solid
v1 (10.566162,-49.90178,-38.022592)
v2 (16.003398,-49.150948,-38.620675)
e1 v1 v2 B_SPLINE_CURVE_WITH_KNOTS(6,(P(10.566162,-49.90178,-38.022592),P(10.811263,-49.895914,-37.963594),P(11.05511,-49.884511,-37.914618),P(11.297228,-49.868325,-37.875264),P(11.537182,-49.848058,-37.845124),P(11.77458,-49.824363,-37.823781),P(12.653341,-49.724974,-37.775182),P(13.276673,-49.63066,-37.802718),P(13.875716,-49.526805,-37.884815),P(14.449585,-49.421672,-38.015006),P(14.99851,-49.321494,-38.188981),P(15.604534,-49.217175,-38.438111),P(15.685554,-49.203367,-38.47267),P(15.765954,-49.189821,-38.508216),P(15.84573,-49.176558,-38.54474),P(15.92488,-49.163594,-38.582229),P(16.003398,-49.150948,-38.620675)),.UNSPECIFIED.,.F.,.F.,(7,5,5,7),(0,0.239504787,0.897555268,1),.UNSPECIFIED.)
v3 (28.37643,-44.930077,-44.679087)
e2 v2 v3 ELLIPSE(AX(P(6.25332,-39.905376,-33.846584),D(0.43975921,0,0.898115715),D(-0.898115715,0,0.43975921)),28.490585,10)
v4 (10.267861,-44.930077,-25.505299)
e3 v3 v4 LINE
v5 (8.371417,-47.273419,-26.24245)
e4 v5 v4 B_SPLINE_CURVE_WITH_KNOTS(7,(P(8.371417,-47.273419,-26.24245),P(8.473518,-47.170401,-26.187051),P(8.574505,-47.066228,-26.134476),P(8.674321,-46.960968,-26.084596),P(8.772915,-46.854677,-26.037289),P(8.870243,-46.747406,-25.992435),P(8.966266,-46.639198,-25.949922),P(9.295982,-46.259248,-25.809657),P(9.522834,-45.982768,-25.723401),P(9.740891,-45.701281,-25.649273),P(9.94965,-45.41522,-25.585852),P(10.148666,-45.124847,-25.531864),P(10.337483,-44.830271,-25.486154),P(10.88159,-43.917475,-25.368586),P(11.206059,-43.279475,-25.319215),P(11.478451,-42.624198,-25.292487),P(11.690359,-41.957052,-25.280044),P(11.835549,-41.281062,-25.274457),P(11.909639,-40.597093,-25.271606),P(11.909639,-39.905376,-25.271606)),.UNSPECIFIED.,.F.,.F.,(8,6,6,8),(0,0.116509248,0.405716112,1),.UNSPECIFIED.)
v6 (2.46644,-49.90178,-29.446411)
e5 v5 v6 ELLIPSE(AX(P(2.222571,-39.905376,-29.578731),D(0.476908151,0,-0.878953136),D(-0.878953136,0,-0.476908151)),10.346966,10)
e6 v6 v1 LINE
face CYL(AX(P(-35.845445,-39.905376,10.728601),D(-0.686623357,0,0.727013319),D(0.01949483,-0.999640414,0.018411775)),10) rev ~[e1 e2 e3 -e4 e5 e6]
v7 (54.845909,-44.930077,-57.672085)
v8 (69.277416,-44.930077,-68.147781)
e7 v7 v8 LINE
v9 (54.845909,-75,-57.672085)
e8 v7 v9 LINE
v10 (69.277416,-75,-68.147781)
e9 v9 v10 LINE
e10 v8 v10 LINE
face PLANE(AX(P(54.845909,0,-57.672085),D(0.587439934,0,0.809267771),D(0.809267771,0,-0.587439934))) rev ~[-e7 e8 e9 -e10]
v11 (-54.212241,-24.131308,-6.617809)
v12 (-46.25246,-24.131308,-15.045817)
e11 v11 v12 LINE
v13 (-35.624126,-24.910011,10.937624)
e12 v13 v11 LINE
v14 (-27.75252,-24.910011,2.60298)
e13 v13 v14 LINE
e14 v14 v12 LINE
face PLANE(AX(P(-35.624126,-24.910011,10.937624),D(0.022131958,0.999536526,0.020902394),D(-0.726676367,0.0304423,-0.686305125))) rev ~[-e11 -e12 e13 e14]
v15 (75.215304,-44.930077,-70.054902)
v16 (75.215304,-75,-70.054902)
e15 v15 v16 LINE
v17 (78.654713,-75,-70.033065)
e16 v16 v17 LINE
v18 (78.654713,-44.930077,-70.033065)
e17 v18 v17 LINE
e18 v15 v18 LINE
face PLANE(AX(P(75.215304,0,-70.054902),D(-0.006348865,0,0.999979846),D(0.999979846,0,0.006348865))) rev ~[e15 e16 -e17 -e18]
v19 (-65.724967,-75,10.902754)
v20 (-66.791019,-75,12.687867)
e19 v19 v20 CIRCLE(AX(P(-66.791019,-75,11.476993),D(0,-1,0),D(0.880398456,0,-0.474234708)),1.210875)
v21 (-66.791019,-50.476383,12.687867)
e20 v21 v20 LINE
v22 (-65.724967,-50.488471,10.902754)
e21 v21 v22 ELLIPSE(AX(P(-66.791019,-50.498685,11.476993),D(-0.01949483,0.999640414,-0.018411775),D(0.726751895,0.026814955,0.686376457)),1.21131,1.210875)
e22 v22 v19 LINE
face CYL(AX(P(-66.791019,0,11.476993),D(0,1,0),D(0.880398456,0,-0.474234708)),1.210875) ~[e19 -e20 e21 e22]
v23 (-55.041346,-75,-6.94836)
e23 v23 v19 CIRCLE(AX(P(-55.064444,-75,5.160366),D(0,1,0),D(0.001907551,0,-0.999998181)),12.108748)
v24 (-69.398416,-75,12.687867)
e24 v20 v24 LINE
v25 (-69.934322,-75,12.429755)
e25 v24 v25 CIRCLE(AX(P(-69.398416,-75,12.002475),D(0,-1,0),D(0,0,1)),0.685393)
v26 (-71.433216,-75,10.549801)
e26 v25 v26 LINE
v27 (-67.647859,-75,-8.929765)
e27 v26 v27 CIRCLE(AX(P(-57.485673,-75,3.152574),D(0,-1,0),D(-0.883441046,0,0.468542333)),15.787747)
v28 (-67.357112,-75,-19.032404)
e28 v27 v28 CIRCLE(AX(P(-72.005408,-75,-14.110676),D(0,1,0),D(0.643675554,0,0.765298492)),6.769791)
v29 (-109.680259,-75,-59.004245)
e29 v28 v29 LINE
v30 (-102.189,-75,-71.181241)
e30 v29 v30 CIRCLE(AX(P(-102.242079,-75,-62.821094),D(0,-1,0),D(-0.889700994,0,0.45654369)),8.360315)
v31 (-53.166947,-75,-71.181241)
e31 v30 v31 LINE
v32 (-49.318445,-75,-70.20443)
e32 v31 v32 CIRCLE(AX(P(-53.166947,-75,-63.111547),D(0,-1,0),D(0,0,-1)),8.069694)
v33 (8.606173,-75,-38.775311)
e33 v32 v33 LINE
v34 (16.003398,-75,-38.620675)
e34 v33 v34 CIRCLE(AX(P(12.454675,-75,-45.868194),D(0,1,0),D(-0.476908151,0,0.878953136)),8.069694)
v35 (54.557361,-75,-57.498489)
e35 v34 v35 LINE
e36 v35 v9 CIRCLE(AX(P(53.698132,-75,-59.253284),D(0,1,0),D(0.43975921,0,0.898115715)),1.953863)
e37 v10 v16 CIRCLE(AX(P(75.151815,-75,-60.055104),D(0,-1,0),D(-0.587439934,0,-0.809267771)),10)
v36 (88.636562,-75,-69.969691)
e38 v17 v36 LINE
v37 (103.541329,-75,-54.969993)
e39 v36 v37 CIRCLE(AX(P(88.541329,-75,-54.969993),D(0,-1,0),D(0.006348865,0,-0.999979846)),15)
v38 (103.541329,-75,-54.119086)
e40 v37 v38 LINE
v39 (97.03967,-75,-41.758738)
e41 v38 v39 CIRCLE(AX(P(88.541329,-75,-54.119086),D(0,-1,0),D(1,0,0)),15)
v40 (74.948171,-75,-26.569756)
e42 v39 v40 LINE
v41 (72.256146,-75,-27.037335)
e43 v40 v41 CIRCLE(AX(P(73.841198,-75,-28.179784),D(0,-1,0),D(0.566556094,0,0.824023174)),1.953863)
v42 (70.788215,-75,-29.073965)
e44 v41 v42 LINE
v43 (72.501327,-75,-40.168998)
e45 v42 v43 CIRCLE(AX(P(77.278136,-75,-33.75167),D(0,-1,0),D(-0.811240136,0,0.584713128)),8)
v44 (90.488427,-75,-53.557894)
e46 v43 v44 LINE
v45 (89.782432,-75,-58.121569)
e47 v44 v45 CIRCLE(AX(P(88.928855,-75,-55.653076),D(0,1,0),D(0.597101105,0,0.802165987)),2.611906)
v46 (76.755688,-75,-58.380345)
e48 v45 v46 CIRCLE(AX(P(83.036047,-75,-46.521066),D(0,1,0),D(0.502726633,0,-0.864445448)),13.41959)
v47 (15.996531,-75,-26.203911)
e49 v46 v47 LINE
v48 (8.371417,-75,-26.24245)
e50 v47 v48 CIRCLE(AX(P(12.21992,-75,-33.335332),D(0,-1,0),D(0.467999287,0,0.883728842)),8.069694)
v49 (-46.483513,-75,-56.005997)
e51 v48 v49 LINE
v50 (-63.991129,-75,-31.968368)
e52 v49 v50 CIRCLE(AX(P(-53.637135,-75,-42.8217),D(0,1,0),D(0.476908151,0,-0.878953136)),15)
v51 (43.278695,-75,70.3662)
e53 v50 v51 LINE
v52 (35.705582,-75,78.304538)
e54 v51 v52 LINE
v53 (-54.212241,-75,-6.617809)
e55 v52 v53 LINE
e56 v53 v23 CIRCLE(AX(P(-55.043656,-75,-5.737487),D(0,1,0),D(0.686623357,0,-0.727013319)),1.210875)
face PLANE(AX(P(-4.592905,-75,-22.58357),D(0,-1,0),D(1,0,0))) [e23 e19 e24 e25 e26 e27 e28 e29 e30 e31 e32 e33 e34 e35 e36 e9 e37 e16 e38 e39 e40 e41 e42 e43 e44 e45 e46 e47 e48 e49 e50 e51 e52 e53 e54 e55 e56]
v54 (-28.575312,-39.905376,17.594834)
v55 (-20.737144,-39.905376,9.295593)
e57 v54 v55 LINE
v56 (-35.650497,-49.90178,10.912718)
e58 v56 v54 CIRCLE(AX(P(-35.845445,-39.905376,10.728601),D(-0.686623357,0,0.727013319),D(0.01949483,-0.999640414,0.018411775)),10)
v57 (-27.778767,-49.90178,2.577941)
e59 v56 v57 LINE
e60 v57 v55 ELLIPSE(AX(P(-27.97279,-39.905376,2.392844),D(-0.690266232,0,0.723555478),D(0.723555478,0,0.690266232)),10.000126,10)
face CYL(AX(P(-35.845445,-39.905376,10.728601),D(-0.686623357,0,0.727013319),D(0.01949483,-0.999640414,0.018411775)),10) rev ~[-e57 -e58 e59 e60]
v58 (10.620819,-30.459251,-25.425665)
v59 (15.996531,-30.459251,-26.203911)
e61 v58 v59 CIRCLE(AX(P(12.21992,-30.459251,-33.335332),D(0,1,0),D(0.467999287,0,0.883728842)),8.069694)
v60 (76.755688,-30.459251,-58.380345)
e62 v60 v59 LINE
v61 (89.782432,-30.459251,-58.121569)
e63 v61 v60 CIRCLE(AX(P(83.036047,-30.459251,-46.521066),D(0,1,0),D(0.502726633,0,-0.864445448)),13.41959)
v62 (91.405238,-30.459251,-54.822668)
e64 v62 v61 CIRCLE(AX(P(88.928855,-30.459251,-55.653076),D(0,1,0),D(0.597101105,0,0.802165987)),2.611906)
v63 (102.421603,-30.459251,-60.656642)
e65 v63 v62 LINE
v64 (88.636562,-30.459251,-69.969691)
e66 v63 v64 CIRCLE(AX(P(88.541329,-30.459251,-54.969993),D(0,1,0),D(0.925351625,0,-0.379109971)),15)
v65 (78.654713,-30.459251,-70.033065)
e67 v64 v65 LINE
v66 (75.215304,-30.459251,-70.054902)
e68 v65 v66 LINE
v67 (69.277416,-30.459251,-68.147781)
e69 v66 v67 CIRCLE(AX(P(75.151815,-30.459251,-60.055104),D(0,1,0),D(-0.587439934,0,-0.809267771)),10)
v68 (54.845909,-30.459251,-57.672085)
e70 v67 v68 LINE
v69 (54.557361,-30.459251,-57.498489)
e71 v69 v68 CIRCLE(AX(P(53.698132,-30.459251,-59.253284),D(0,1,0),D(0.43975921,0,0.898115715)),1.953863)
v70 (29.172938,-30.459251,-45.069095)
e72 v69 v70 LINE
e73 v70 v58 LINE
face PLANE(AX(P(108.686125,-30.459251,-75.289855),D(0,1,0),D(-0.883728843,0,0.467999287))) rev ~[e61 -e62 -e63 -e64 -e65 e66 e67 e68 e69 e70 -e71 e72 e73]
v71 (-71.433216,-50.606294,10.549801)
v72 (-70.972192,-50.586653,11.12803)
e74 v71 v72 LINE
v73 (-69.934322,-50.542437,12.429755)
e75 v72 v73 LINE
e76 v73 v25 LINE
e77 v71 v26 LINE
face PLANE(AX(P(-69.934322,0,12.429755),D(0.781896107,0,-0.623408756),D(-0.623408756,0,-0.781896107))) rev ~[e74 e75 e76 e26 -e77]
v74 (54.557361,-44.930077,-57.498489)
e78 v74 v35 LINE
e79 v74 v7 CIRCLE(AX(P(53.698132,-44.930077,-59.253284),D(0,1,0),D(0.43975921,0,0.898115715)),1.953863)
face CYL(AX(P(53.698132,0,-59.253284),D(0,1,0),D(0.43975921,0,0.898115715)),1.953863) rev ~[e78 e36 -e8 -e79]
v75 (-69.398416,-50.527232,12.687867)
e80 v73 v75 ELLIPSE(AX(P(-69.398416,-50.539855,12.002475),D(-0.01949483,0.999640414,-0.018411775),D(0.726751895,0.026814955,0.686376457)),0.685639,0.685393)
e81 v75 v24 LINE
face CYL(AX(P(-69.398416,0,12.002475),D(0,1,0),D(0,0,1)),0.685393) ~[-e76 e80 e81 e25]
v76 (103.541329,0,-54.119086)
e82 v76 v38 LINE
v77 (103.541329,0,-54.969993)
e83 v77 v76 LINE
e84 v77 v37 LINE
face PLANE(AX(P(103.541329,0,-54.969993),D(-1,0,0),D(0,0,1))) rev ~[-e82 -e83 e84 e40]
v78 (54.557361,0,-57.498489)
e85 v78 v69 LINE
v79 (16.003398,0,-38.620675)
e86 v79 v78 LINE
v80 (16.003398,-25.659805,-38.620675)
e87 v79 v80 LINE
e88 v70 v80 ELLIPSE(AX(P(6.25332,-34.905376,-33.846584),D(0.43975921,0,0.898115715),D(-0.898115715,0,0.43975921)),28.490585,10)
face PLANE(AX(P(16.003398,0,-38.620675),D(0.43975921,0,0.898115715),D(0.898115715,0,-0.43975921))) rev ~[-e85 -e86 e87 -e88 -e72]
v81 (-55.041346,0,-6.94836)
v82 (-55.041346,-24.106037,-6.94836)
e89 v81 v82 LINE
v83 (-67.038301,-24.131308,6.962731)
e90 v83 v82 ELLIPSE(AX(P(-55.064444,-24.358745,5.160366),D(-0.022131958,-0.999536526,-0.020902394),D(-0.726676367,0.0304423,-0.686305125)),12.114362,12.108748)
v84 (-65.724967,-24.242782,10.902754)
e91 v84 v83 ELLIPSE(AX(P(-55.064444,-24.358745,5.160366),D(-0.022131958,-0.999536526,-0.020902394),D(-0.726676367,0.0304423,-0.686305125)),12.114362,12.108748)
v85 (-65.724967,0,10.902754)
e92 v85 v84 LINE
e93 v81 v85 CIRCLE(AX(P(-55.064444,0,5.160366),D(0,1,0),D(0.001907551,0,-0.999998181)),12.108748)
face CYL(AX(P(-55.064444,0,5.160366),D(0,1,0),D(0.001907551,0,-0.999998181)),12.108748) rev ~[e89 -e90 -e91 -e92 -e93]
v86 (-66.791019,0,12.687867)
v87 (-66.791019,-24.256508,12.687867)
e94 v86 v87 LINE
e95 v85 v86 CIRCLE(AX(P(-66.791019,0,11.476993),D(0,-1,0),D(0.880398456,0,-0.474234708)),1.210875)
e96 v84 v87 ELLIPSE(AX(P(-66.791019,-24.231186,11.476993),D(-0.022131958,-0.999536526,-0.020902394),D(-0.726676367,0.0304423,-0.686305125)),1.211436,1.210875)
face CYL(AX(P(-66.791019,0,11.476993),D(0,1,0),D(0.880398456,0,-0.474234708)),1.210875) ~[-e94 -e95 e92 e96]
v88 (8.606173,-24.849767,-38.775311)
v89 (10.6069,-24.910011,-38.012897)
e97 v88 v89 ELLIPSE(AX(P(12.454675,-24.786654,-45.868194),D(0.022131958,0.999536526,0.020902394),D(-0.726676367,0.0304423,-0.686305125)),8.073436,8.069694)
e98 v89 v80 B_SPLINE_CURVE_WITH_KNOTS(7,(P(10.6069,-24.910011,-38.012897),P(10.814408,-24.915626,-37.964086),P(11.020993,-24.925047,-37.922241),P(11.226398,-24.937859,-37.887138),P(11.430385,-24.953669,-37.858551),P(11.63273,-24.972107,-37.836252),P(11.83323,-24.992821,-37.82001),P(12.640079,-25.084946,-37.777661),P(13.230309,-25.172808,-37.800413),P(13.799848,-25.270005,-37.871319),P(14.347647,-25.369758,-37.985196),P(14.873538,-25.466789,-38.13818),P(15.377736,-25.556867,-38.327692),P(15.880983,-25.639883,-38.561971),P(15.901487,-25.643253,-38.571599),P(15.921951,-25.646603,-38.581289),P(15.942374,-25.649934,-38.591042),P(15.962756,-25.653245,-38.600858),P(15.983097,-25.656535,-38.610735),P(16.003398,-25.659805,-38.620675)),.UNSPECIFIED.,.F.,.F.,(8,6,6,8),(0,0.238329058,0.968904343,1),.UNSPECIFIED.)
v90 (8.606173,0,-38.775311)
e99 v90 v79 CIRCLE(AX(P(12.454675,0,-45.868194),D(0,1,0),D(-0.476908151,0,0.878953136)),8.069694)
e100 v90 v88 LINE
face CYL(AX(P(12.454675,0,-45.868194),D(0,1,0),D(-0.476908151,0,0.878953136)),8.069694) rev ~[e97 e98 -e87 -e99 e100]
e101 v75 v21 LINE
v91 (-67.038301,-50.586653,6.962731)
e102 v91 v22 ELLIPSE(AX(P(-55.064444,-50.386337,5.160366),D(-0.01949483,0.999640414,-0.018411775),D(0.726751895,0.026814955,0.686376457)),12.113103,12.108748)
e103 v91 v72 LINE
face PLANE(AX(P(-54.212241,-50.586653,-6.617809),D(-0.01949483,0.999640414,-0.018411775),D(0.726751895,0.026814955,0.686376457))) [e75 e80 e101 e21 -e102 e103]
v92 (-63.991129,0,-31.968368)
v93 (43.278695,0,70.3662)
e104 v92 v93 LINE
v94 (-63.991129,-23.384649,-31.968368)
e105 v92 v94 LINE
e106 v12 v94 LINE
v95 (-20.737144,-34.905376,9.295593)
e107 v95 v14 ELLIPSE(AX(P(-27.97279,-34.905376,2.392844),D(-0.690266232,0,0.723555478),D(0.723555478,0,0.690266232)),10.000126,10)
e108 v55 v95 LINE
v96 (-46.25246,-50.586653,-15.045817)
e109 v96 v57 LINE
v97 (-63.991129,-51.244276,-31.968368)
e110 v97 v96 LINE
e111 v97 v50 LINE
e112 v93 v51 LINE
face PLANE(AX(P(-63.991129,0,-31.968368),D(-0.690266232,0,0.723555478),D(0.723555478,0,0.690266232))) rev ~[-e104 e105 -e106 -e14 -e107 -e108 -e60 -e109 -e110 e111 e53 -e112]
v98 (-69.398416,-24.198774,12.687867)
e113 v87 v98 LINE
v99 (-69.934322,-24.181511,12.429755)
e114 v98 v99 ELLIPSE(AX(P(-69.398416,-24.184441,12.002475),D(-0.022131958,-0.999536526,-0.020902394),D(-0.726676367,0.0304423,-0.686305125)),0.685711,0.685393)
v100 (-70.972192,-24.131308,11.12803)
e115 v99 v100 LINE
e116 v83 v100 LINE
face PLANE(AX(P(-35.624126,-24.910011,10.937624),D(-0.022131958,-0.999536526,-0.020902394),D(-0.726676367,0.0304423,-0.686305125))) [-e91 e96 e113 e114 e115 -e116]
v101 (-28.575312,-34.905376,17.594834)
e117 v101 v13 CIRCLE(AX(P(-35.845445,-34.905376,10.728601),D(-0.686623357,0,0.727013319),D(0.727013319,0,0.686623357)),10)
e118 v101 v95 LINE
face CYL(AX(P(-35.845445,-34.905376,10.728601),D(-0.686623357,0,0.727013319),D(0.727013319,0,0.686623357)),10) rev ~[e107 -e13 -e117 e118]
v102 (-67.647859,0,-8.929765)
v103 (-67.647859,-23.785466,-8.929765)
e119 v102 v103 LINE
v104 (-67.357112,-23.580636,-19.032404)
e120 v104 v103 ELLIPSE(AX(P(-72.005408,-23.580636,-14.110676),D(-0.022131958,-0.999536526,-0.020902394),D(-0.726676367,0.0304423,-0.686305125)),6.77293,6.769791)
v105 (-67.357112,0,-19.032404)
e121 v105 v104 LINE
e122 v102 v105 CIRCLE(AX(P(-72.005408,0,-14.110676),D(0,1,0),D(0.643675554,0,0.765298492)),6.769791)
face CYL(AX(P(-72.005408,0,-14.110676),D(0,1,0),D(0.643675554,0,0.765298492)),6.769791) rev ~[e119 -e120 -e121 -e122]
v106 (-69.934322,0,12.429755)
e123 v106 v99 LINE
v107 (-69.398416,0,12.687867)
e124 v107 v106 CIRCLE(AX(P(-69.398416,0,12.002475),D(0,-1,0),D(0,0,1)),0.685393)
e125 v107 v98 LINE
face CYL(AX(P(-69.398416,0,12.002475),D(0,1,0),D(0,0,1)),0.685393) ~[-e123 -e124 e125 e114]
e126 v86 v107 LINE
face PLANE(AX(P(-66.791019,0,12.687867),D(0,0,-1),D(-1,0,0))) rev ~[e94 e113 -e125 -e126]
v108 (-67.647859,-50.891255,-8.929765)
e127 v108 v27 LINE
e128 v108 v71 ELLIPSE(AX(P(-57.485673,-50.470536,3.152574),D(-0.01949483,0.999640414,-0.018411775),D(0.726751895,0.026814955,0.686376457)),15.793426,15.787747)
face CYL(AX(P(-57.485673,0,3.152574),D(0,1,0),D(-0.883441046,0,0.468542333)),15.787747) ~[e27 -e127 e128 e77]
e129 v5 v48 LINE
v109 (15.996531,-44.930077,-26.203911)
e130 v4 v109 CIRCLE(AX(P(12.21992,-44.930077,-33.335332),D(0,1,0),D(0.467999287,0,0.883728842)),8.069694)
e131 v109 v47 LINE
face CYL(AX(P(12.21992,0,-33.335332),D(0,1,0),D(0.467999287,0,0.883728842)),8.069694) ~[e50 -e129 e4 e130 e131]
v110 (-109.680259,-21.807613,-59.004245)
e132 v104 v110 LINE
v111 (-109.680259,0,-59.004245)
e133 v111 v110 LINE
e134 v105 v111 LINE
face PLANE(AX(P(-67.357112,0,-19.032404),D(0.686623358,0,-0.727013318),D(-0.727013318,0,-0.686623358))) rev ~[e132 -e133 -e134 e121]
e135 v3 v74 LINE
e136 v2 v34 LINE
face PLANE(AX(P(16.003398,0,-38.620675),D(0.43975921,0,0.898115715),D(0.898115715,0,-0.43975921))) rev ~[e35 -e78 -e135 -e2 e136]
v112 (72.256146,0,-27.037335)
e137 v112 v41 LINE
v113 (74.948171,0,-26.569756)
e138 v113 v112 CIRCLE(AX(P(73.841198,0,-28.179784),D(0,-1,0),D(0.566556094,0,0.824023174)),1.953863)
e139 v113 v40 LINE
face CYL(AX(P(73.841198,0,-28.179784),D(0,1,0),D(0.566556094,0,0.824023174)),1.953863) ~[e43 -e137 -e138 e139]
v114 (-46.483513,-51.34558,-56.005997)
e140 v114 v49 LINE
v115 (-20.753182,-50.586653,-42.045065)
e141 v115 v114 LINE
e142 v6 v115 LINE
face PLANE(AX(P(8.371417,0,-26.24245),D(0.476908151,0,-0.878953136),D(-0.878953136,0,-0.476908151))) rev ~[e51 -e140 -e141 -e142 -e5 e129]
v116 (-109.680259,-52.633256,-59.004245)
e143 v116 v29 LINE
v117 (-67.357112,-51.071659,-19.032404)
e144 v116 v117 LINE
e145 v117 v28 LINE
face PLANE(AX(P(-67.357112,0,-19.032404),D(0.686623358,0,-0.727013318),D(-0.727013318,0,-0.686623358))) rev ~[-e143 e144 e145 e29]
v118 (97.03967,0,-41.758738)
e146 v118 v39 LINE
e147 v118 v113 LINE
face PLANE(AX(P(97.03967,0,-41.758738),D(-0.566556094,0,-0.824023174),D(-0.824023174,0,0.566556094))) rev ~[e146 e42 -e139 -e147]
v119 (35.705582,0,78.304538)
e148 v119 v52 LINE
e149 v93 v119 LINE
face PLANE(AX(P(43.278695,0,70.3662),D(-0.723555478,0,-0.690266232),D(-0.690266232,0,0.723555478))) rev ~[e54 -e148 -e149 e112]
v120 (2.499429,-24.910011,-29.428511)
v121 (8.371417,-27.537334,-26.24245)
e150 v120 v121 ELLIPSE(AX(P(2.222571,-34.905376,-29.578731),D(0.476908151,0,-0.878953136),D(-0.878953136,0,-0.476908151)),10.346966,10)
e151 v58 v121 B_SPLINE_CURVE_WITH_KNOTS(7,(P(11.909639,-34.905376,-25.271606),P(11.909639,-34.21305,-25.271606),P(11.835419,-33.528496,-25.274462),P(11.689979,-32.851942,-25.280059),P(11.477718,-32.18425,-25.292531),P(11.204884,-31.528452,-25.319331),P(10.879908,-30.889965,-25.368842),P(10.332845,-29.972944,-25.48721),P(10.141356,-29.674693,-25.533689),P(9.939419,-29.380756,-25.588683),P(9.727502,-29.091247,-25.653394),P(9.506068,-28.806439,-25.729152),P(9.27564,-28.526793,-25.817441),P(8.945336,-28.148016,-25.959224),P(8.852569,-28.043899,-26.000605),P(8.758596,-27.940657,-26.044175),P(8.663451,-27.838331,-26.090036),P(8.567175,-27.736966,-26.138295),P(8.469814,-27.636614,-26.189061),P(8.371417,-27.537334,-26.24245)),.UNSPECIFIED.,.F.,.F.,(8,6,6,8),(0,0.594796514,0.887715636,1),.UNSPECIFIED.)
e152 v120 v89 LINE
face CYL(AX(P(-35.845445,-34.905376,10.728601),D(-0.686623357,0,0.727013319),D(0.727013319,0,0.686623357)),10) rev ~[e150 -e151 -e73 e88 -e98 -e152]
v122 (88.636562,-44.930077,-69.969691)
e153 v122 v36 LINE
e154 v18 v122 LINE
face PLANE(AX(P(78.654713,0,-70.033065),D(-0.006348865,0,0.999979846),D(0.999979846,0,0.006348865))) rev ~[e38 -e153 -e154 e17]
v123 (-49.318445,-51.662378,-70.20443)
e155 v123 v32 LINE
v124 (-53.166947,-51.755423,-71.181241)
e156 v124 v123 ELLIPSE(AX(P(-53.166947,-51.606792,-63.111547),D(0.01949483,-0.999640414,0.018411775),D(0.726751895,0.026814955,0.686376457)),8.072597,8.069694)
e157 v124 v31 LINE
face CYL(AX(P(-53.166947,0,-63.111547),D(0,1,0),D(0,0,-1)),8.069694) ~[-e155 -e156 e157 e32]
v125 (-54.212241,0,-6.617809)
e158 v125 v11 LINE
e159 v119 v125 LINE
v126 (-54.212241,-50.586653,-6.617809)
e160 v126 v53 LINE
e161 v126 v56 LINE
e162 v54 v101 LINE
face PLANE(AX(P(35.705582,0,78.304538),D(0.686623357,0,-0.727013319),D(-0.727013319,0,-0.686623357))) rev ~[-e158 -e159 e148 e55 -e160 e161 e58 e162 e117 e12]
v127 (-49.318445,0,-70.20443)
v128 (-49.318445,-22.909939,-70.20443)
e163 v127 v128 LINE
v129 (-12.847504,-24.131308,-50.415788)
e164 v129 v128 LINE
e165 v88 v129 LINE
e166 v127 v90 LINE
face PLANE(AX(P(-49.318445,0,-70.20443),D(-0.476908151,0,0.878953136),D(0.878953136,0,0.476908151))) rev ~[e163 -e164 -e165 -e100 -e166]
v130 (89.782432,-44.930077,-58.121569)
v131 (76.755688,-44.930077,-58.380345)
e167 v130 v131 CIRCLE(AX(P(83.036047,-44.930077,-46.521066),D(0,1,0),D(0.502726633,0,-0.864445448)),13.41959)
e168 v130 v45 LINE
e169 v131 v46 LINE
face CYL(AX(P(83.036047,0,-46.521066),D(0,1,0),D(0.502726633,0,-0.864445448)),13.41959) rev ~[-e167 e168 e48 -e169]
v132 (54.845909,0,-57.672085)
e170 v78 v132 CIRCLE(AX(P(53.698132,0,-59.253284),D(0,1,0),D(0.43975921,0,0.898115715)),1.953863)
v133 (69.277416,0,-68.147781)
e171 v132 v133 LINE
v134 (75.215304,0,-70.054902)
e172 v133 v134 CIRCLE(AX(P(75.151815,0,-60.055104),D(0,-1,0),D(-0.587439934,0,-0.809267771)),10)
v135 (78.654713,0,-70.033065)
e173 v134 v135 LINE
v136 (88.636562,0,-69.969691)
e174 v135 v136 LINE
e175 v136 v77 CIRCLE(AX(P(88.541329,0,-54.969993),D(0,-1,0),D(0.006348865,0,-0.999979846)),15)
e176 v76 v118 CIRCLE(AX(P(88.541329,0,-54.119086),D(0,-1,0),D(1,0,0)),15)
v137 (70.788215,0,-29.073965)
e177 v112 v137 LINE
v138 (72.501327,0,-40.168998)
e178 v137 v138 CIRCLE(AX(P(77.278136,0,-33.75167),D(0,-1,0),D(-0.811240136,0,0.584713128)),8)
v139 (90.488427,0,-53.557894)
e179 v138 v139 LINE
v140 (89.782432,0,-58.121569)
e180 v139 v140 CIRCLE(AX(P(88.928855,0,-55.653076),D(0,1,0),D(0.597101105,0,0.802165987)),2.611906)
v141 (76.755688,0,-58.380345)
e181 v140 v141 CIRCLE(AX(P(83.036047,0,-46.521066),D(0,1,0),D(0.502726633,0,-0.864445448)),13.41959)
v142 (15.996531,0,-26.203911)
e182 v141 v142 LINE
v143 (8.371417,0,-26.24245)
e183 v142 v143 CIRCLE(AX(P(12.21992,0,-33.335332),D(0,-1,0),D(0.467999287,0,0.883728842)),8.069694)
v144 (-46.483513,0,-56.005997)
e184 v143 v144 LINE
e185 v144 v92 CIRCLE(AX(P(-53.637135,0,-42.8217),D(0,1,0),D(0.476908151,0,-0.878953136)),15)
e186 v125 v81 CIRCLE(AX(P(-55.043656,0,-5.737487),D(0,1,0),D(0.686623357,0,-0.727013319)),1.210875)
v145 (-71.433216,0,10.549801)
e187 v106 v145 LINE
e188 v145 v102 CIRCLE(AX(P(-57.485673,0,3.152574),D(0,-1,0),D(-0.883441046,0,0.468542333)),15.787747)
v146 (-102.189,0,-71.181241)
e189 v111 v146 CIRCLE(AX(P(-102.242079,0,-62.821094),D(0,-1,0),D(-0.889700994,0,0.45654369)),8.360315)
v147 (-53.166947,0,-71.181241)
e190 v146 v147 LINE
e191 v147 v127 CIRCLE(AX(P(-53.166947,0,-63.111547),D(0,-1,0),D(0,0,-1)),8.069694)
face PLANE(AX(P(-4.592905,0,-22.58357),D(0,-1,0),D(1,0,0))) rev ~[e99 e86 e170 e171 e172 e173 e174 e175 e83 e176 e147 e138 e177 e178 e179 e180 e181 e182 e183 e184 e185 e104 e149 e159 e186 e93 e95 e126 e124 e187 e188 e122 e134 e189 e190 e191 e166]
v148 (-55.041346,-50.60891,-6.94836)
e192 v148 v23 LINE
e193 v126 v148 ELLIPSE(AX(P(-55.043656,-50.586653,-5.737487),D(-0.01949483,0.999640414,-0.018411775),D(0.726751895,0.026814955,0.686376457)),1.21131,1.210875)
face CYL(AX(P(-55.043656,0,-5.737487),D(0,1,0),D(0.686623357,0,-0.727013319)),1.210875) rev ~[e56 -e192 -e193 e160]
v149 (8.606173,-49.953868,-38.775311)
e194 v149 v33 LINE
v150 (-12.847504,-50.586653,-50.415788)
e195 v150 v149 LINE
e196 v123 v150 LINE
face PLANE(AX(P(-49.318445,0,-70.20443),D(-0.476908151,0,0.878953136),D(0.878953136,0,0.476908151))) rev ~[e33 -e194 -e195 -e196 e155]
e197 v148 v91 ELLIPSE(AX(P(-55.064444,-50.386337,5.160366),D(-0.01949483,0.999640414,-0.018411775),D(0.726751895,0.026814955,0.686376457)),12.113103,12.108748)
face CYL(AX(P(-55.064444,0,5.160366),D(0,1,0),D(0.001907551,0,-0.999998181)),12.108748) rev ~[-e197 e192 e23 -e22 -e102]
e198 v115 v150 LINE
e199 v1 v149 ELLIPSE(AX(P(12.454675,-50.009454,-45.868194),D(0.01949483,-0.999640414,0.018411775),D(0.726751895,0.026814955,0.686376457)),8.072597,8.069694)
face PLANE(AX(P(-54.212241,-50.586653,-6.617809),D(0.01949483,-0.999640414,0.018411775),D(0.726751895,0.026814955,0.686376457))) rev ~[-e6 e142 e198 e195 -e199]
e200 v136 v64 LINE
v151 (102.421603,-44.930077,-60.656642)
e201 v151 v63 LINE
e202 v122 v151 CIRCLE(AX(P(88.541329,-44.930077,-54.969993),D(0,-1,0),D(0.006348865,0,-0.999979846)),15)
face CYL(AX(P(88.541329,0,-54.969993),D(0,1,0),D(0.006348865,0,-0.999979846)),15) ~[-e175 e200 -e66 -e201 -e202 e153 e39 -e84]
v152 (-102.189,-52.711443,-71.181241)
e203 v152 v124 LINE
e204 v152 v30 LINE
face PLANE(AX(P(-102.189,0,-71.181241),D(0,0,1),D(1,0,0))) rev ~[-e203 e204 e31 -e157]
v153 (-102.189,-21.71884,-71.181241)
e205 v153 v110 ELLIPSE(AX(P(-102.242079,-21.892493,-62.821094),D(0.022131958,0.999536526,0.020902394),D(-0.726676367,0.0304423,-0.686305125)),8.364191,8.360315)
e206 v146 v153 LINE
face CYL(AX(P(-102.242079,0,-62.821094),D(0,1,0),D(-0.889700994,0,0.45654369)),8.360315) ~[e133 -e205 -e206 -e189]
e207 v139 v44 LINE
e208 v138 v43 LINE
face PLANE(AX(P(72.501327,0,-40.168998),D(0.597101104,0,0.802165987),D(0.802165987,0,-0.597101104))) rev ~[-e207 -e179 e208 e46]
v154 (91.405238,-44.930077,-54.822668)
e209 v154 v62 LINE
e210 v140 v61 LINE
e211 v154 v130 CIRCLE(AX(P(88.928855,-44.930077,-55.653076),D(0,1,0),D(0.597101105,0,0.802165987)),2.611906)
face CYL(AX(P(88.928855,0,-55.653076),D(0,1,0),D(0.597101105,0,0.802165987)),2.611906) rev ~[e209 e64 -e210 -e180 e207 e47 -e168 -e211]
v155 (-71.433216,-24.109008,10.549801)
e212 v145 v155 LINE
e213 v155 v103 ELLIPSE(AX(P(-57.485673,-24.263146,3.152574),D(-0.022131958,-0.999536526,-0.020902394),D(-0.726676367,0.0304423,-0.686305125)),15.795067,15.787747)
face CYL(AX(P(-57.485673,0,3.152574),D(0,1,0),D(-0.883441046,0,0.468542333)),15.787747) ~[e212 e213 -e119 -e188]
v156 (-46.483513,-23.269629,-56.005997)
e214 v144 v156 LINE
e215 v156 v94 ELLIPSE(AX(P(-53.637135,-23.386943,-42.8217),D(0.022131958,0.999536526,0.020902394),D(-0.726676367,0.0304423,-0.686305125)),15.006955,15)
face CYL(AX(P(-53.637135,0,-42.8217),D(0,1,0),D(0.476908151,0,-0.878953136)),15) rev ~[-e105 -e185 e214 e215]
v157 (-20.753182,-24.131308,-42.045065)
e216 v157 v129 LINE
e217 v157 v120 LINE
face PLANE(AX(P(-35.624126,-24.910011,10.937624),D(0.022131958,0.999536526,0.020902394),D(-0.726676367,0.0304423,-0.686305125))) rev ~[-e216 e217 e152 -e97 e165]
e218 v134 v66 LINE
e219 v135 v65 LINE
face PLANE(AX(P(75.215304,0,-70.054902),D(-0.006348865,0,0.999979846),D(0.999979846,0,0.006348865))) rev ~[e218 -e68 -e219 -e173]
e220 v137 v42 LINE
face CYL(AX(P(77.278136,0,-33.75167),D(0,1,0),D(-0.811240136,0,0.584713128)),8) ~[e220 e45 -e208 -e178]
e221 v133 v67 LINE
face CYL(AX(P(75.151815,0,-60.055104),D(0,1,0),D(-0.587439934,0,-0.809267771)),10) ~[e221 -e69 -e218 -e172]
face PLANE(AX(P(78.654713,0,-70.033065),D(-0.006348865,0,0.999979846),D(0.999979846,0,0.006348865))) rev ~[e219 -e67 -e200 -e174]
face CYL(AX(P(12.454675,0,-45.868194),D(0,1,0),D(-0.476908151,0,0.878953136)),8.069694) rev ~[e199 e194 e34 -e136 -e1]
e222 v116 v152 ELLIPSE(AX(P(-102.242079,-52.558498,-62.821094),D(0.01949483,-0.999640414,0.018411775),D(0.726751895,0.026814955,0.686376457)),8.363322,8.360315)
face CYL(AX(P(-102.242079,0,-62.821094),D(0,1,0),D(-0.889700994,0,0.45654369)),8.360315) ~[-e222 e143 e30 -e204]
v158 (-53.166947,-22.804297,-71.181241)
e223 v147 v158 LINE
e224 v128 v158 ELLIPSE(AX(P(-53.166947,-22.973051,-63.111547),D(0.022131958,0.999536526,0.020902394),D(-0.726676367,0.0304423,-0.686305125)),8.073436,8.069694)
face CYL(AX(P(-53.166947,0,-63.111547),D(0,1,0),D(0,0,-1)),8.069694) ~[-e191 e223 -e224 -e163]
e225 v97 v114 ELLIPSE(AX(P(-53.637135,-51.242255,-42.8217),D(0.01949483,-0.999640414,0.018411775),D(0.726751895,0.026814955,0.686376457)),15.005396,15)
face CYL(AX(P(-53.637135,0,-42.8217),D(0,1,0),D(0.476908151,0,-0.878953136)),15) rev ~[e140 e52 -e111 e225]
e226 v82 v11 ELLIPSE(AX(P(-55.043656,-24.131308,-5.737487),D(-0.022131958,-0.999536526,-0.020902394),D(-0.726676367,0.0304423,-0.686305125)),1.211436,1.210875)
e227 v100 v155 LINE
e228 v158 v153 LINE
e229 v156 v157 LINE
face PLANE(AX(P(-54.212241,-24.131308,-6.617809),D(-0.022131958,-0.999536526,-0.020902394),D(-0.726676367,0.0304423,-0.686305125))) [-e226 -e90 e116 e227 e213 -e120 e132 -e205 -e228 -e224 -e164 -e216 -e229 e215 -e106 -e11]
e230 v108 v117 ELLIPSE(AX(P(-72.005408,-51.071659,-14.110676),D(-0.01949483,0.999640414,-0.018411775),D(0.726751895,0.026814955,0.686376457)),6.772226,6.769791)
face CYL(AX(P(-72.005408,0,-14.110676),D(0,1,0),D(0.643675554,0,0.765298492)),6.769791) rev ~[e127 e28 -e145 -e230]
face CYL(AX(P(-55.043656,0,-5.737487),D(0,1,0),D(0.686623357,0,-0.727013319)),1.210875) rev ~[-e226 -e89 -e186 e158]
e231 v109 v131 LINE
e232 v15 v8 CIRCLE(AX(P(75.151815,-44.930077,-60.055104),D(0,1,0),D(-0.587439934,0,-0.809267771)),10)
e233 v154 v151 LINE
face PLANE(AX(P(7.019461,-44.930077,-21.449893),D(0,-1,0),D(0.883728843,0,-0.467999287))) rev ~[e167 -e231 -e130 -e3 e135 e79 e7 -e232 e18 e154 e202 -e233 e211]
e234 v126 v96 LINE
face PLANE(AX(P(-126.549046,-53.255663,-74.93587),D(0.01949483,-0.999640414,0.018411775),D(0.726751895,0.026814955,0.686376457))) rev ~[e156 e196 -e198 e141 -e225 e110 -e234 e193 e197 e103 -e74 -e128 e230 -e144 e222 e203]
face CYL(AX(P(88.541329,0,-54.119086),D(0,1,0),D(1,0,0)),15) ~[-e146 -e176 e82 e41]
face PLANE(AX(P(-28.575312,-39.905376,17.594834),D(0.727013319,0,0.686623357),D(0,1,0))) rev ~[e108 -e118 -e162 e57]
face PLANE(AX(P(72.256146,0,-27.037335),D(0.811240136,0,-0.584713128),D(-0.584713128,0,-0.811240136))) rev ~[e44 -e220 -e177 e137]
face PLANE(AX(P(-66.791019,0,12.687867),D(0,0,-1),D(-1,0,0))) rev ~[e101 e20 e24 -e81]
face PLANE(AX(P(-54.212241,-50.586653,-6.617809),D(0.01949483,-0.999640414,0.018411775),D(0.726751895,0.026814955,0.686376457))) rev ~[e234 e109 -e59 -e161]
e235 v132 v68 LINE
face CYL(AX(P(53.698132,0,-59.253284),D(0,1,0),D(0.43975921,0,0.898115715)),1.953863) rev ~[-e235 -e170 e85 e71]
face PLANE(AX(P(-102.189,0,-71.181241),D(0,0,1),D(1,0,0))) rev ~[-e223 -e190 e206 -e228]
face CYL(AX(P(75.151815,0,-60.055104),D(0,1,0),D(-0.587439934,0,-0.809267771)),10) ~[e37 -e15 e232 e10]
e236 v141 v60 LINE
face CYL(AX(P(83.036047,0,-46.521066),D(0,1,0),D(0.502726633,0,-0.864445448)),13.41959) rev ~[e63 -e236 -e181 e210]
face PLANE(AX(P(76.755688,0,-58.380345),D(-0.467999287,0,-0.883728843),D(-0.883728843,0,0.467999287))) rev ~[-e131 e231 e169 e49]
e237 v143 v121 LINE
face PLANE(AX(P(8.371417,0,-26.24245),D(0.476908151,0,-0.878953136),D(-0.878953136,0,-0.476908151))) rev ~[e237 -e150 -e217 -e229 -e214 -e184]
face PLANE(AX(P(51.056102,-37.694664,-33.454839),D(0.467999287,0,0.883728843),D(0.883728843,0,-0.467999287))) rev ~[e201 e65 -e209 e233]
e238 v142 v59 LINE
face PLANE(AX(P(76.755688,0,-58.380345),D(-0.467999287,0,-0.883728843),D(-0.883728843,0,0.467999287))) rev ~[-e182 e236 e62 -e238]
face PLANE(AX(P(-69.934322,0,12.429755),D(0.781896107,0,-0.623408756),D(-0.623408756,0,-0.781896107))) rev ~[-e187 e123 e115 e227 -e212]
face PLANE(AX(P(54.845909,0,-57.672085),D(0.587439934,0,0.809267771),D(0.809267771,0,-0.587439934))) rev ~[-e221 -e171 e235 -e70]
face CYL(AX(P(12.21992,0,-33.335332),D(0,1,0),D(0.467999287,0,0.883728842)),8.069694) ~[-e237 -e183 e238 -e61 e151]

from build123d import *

# Parameters (mm, degrees)
F1_DEPTH      = 75
F3_DEPTH      = 30
F3_DEPTH_BACK = 90
F4_W          = 68.7531680209
F4_H          = 14.4708263688
F5_DEPTH      = 25
F5_DEPTH_BACK = 10


with BuildPart() as f1:
    # F0 (on Front) → F1 (new body)
    with BuildSketch(Plane.XZ):
        with BuildLine():
            Line((35.7055822906, 78.3045381219), (-54.2122411279, -6.6178094916))
            ThreePointArc((-54.2122411279, -6.6178094916), (-54.5952252844, -6.8622663067), (-55.0413462098, -6.9483599686))
            ThreePointArc((-55.0413462098, -6.9483599686), (-65.454548531, -1.0579541733), (-65.7249668893, 10.9027538713))
            ThreePointArc((-65.7249668893, 10.9027538713), (-65.7514161094, 12.0978334092), (-66.7910191515, 12.6878674574))
            Line((-66.7910191515, 12.6878674574), (-69.3984164298, 12.6878674574))
            ThreePointArc((-69.3984164298, 12.6878674574), (-69.6958292502, 12.6199768131), (-69.9343224371, 12.4297545087))
            Line((-69.9343224371, 12.4297545087), (-71.4332162747, 10.549801355))
            ThreePointArc((-71.4332162747, 10.549801355), (-72.983516127, 0.1409632474), (-67.6478594542, -8.9297648519))
            ThreePointArc((-67.6478594542, -8.9297648519), (-65.2384193211, -13.915925777), (-67.3571118078, -19.0324035373))
            Line((-67.3571118078, -19.0324035373), (-109.6802590447, -59.0042454993))
            ThreePointArc((-109.6802590447, -59.0042454993), (-109.3628044531, -67.2017482376), (-102.1890001615, -71.1812407363))
            Line((-102.1890001615, -71.1812407363), (-53.1669473059, -71.1812407356))
            ThreePointArc((-53.1669473059, -71.1812407356), (-51.1816807122, -70.9332267187), (-49.3184445074, -70.2044295966))
            Line((-49.3184445074, -70.2044295966), (8.606172505, -38.7753114248))
            ThreePointArc((8.606172505, -38.7753114248), (12.2860183049, -37.8002629481), (16.0033975224, -38.6206752819))
            Line((16.0033975224, -38.6206752819), (54.5573614144, -57.4984885011))
            ThreePointArc((54.5573614144, -57.4984885011), (54.7053822121, -57.5790589788), (54.8459093451, -57.6720852296))
            Line((54.8459093451, -57.6720852296), (69.2774157369, -68.1477812421))
            ThreePointArc((69.2774157369, -68.1477812421), (72.0938830707, -69.5760831015), (75.2153037267, -70.0549019945))
            Line((75.2153037267, -70.0549019945), (78.6547126816, -70.03306521))
            Line((78.6547126816, -70.03306521), (88.6365619759, -69.9696905154))
            ThreePointArc((88.6365619759, -69.9696905154), (99.1815473838, -65.542870992), (103.5413289953, -54.9699928292))
            Line((103.5413289953, -54.9699928292), (103.5413289953, -54.1190856195))
            ThreePointArc((103.5413289953, -54.1190856195), (101.8167785406, -47.1360748524), (97.0396704124, -41.7587380046))
            Line((97.0396704124, -41.7587380046), (74.9481714859, -26.5697557736))
            ThreePointArc((74.9481714859, -26.5697557736), (73.5068370972, -26.2547430485), (72.2561461348, -27.0373348667))
            Line((72.2561461348, -27.0373348667), (70.7882150116, -29.0739654592))
            ThreePointArc((70.7882150116, -29.0739654592), (69.371825982, -34.9724326755), (72.5013272631, -40.1689983795))
            Line((72.5013272631, -40.1689983795), (90.4884265587, -53.557894228))
            ThreePointArc((90.4884265587, -53.557894228), (91.510056882, -56.0523850299), (89.7824317217, -58.1215694547))
            ThreePointArc((89.7824317217, -58.1215694547), (83.3025731901, -59.9380088951), (76.7556883533, -58.3803446938))
            Line((76.7556883533, -58.3803446938), (15.9965307599, -26.203911059))
            ThreePointArc((15.9965307599, -26.203911059), (12.1791348203, -25.2657414738), (8.3714169644, -26.2424495468))
            Line((8.3714169644, -26.2424495468), (-46.4835128256, -56.0059967154))
            ThreePointArc((-46.4835128256, -56.0059967154), (-65.7620061585, -51.6527529228), (-63.9911285633, -31.9683675057))
            Line((-63.9911285633, -31.9683675057), (43.2786946767, 70.3661996968))
            Line((43.2786946767, 70.3661996968), (35.7055822906, 78.3045381219))
        make_face()
    extrude(amount=F1_DEPTH)

    # F2 (on face) → F3 (cut, two sides)
    with BuildSketch(Plane(origin=(-22.2549429173, 0, 23.5640686305), x_dir=(0.7270133187, 0, 0.686623357), z_dir=(-0.686623357, 0, 0.7270133187))) as f3_sk:
        Polygon((-43.9569639067, -24.1313080694), (-143.9990401268, -21.0843849927), (-143.4555607145, -53.2556629783), (-43.9569639067, -50.5866528074), align=None)
        with BuildLine():
            Line((-18.389185364, -24.9100109652), (-43.9569639067, -24.1313080694))
            Line((-43.9569639067, -24.1313080694), (-43.9569639067, -50.5866528074))
            Line((-43.9569639067, -50.5866528074), (-18.4254588112, -49.9017803673))
            ThreePointArc((-18.4254588112, -49.9017803673), (-11.5283625374, -46.8809946351), (-8.6936083649, -39.905376223))
            Line((-8.6936083649, -39.905376223), (-8.6936083649, -34.905376223))
            ThreePointArc((-8.6936083649, -34.905376223), (-11.5157176577, -27.9427700303), (-18.389185364, -24.9100109652))
        make_face()
    extrude(amount=F3_DEPTH, mode=Mode.SUBTRACT)
    extrude(f3_sk.sketch, amount=-F3_DEPTH_BACK, mode=Mode.SUBTRACT)

    # F4 (on face) → F5 (cut, two sides)
    with BuildSketch(Plane(origin=(-7.3339171449, 0, -13.8487264512), x_dir=(0.8837288425, 0, -0.4679992873), z_dir=(0.4679992873, 0, 0.8837288425))) as f5_sk:
        with Locations((60.7765913236, -37.6946638618)):
            Rectangle(F4_W, F4_H)
        with BuildLine():
            ThreePointArc((11.2418346107, -39.9300770462), (12.7063007048, -43.4656109521), (16.2418346107, -44.9300770462))
            Line((16.2418346107, -44.9300770462), (26.4000073131, -44.9300770462))
            Line((26.4000073131, -44.9300770462), (26.4000073131, -30.4592506774))
            Line((26.4000073131, -30.4592506774), (16.2418346107, -30.4592506774))
            ThreePointArc((16.2418346107, -30.4592506774), (12.7063007048, -31.9237167714), (11.2418346107, -35.4592506774))
            Line((11.2418346107, -35.4592506774), (11.2418346107, -39.9300770462))
        make_face()
        with BuildLine():
            Line((95.153175334, -30.4592506774), (95.153175334, -44.9300770462))
            Line((95.153175334, -44.9300770462), (131.284661945, -44.9300770462))
            ThreePointArc((131.284661945, -44.9300770462), (134.8201958509, -43.4656109521), (136.284661945, -39.9300770462))
            Line((136.284661945, -39.9300770462), (136.284661945, -35.4592506774))
            ThreePointArc((136.284661945, -35.4592506774), (134.8201958509, -31.9237167714), (131.284661945, -30.4592506774))
            Line((131.284661945, -30.4592506774), (95.153175334, -30.4592506774))
        make_face()
    extrude(amount=-F5_DEPTH, mode=Mode.SUBTRACT)
    extrude(f5_sk.sketch, amount=F5_DEPTH_BACK, mode=Mode.SUBTRACT)


solid = f1.part
